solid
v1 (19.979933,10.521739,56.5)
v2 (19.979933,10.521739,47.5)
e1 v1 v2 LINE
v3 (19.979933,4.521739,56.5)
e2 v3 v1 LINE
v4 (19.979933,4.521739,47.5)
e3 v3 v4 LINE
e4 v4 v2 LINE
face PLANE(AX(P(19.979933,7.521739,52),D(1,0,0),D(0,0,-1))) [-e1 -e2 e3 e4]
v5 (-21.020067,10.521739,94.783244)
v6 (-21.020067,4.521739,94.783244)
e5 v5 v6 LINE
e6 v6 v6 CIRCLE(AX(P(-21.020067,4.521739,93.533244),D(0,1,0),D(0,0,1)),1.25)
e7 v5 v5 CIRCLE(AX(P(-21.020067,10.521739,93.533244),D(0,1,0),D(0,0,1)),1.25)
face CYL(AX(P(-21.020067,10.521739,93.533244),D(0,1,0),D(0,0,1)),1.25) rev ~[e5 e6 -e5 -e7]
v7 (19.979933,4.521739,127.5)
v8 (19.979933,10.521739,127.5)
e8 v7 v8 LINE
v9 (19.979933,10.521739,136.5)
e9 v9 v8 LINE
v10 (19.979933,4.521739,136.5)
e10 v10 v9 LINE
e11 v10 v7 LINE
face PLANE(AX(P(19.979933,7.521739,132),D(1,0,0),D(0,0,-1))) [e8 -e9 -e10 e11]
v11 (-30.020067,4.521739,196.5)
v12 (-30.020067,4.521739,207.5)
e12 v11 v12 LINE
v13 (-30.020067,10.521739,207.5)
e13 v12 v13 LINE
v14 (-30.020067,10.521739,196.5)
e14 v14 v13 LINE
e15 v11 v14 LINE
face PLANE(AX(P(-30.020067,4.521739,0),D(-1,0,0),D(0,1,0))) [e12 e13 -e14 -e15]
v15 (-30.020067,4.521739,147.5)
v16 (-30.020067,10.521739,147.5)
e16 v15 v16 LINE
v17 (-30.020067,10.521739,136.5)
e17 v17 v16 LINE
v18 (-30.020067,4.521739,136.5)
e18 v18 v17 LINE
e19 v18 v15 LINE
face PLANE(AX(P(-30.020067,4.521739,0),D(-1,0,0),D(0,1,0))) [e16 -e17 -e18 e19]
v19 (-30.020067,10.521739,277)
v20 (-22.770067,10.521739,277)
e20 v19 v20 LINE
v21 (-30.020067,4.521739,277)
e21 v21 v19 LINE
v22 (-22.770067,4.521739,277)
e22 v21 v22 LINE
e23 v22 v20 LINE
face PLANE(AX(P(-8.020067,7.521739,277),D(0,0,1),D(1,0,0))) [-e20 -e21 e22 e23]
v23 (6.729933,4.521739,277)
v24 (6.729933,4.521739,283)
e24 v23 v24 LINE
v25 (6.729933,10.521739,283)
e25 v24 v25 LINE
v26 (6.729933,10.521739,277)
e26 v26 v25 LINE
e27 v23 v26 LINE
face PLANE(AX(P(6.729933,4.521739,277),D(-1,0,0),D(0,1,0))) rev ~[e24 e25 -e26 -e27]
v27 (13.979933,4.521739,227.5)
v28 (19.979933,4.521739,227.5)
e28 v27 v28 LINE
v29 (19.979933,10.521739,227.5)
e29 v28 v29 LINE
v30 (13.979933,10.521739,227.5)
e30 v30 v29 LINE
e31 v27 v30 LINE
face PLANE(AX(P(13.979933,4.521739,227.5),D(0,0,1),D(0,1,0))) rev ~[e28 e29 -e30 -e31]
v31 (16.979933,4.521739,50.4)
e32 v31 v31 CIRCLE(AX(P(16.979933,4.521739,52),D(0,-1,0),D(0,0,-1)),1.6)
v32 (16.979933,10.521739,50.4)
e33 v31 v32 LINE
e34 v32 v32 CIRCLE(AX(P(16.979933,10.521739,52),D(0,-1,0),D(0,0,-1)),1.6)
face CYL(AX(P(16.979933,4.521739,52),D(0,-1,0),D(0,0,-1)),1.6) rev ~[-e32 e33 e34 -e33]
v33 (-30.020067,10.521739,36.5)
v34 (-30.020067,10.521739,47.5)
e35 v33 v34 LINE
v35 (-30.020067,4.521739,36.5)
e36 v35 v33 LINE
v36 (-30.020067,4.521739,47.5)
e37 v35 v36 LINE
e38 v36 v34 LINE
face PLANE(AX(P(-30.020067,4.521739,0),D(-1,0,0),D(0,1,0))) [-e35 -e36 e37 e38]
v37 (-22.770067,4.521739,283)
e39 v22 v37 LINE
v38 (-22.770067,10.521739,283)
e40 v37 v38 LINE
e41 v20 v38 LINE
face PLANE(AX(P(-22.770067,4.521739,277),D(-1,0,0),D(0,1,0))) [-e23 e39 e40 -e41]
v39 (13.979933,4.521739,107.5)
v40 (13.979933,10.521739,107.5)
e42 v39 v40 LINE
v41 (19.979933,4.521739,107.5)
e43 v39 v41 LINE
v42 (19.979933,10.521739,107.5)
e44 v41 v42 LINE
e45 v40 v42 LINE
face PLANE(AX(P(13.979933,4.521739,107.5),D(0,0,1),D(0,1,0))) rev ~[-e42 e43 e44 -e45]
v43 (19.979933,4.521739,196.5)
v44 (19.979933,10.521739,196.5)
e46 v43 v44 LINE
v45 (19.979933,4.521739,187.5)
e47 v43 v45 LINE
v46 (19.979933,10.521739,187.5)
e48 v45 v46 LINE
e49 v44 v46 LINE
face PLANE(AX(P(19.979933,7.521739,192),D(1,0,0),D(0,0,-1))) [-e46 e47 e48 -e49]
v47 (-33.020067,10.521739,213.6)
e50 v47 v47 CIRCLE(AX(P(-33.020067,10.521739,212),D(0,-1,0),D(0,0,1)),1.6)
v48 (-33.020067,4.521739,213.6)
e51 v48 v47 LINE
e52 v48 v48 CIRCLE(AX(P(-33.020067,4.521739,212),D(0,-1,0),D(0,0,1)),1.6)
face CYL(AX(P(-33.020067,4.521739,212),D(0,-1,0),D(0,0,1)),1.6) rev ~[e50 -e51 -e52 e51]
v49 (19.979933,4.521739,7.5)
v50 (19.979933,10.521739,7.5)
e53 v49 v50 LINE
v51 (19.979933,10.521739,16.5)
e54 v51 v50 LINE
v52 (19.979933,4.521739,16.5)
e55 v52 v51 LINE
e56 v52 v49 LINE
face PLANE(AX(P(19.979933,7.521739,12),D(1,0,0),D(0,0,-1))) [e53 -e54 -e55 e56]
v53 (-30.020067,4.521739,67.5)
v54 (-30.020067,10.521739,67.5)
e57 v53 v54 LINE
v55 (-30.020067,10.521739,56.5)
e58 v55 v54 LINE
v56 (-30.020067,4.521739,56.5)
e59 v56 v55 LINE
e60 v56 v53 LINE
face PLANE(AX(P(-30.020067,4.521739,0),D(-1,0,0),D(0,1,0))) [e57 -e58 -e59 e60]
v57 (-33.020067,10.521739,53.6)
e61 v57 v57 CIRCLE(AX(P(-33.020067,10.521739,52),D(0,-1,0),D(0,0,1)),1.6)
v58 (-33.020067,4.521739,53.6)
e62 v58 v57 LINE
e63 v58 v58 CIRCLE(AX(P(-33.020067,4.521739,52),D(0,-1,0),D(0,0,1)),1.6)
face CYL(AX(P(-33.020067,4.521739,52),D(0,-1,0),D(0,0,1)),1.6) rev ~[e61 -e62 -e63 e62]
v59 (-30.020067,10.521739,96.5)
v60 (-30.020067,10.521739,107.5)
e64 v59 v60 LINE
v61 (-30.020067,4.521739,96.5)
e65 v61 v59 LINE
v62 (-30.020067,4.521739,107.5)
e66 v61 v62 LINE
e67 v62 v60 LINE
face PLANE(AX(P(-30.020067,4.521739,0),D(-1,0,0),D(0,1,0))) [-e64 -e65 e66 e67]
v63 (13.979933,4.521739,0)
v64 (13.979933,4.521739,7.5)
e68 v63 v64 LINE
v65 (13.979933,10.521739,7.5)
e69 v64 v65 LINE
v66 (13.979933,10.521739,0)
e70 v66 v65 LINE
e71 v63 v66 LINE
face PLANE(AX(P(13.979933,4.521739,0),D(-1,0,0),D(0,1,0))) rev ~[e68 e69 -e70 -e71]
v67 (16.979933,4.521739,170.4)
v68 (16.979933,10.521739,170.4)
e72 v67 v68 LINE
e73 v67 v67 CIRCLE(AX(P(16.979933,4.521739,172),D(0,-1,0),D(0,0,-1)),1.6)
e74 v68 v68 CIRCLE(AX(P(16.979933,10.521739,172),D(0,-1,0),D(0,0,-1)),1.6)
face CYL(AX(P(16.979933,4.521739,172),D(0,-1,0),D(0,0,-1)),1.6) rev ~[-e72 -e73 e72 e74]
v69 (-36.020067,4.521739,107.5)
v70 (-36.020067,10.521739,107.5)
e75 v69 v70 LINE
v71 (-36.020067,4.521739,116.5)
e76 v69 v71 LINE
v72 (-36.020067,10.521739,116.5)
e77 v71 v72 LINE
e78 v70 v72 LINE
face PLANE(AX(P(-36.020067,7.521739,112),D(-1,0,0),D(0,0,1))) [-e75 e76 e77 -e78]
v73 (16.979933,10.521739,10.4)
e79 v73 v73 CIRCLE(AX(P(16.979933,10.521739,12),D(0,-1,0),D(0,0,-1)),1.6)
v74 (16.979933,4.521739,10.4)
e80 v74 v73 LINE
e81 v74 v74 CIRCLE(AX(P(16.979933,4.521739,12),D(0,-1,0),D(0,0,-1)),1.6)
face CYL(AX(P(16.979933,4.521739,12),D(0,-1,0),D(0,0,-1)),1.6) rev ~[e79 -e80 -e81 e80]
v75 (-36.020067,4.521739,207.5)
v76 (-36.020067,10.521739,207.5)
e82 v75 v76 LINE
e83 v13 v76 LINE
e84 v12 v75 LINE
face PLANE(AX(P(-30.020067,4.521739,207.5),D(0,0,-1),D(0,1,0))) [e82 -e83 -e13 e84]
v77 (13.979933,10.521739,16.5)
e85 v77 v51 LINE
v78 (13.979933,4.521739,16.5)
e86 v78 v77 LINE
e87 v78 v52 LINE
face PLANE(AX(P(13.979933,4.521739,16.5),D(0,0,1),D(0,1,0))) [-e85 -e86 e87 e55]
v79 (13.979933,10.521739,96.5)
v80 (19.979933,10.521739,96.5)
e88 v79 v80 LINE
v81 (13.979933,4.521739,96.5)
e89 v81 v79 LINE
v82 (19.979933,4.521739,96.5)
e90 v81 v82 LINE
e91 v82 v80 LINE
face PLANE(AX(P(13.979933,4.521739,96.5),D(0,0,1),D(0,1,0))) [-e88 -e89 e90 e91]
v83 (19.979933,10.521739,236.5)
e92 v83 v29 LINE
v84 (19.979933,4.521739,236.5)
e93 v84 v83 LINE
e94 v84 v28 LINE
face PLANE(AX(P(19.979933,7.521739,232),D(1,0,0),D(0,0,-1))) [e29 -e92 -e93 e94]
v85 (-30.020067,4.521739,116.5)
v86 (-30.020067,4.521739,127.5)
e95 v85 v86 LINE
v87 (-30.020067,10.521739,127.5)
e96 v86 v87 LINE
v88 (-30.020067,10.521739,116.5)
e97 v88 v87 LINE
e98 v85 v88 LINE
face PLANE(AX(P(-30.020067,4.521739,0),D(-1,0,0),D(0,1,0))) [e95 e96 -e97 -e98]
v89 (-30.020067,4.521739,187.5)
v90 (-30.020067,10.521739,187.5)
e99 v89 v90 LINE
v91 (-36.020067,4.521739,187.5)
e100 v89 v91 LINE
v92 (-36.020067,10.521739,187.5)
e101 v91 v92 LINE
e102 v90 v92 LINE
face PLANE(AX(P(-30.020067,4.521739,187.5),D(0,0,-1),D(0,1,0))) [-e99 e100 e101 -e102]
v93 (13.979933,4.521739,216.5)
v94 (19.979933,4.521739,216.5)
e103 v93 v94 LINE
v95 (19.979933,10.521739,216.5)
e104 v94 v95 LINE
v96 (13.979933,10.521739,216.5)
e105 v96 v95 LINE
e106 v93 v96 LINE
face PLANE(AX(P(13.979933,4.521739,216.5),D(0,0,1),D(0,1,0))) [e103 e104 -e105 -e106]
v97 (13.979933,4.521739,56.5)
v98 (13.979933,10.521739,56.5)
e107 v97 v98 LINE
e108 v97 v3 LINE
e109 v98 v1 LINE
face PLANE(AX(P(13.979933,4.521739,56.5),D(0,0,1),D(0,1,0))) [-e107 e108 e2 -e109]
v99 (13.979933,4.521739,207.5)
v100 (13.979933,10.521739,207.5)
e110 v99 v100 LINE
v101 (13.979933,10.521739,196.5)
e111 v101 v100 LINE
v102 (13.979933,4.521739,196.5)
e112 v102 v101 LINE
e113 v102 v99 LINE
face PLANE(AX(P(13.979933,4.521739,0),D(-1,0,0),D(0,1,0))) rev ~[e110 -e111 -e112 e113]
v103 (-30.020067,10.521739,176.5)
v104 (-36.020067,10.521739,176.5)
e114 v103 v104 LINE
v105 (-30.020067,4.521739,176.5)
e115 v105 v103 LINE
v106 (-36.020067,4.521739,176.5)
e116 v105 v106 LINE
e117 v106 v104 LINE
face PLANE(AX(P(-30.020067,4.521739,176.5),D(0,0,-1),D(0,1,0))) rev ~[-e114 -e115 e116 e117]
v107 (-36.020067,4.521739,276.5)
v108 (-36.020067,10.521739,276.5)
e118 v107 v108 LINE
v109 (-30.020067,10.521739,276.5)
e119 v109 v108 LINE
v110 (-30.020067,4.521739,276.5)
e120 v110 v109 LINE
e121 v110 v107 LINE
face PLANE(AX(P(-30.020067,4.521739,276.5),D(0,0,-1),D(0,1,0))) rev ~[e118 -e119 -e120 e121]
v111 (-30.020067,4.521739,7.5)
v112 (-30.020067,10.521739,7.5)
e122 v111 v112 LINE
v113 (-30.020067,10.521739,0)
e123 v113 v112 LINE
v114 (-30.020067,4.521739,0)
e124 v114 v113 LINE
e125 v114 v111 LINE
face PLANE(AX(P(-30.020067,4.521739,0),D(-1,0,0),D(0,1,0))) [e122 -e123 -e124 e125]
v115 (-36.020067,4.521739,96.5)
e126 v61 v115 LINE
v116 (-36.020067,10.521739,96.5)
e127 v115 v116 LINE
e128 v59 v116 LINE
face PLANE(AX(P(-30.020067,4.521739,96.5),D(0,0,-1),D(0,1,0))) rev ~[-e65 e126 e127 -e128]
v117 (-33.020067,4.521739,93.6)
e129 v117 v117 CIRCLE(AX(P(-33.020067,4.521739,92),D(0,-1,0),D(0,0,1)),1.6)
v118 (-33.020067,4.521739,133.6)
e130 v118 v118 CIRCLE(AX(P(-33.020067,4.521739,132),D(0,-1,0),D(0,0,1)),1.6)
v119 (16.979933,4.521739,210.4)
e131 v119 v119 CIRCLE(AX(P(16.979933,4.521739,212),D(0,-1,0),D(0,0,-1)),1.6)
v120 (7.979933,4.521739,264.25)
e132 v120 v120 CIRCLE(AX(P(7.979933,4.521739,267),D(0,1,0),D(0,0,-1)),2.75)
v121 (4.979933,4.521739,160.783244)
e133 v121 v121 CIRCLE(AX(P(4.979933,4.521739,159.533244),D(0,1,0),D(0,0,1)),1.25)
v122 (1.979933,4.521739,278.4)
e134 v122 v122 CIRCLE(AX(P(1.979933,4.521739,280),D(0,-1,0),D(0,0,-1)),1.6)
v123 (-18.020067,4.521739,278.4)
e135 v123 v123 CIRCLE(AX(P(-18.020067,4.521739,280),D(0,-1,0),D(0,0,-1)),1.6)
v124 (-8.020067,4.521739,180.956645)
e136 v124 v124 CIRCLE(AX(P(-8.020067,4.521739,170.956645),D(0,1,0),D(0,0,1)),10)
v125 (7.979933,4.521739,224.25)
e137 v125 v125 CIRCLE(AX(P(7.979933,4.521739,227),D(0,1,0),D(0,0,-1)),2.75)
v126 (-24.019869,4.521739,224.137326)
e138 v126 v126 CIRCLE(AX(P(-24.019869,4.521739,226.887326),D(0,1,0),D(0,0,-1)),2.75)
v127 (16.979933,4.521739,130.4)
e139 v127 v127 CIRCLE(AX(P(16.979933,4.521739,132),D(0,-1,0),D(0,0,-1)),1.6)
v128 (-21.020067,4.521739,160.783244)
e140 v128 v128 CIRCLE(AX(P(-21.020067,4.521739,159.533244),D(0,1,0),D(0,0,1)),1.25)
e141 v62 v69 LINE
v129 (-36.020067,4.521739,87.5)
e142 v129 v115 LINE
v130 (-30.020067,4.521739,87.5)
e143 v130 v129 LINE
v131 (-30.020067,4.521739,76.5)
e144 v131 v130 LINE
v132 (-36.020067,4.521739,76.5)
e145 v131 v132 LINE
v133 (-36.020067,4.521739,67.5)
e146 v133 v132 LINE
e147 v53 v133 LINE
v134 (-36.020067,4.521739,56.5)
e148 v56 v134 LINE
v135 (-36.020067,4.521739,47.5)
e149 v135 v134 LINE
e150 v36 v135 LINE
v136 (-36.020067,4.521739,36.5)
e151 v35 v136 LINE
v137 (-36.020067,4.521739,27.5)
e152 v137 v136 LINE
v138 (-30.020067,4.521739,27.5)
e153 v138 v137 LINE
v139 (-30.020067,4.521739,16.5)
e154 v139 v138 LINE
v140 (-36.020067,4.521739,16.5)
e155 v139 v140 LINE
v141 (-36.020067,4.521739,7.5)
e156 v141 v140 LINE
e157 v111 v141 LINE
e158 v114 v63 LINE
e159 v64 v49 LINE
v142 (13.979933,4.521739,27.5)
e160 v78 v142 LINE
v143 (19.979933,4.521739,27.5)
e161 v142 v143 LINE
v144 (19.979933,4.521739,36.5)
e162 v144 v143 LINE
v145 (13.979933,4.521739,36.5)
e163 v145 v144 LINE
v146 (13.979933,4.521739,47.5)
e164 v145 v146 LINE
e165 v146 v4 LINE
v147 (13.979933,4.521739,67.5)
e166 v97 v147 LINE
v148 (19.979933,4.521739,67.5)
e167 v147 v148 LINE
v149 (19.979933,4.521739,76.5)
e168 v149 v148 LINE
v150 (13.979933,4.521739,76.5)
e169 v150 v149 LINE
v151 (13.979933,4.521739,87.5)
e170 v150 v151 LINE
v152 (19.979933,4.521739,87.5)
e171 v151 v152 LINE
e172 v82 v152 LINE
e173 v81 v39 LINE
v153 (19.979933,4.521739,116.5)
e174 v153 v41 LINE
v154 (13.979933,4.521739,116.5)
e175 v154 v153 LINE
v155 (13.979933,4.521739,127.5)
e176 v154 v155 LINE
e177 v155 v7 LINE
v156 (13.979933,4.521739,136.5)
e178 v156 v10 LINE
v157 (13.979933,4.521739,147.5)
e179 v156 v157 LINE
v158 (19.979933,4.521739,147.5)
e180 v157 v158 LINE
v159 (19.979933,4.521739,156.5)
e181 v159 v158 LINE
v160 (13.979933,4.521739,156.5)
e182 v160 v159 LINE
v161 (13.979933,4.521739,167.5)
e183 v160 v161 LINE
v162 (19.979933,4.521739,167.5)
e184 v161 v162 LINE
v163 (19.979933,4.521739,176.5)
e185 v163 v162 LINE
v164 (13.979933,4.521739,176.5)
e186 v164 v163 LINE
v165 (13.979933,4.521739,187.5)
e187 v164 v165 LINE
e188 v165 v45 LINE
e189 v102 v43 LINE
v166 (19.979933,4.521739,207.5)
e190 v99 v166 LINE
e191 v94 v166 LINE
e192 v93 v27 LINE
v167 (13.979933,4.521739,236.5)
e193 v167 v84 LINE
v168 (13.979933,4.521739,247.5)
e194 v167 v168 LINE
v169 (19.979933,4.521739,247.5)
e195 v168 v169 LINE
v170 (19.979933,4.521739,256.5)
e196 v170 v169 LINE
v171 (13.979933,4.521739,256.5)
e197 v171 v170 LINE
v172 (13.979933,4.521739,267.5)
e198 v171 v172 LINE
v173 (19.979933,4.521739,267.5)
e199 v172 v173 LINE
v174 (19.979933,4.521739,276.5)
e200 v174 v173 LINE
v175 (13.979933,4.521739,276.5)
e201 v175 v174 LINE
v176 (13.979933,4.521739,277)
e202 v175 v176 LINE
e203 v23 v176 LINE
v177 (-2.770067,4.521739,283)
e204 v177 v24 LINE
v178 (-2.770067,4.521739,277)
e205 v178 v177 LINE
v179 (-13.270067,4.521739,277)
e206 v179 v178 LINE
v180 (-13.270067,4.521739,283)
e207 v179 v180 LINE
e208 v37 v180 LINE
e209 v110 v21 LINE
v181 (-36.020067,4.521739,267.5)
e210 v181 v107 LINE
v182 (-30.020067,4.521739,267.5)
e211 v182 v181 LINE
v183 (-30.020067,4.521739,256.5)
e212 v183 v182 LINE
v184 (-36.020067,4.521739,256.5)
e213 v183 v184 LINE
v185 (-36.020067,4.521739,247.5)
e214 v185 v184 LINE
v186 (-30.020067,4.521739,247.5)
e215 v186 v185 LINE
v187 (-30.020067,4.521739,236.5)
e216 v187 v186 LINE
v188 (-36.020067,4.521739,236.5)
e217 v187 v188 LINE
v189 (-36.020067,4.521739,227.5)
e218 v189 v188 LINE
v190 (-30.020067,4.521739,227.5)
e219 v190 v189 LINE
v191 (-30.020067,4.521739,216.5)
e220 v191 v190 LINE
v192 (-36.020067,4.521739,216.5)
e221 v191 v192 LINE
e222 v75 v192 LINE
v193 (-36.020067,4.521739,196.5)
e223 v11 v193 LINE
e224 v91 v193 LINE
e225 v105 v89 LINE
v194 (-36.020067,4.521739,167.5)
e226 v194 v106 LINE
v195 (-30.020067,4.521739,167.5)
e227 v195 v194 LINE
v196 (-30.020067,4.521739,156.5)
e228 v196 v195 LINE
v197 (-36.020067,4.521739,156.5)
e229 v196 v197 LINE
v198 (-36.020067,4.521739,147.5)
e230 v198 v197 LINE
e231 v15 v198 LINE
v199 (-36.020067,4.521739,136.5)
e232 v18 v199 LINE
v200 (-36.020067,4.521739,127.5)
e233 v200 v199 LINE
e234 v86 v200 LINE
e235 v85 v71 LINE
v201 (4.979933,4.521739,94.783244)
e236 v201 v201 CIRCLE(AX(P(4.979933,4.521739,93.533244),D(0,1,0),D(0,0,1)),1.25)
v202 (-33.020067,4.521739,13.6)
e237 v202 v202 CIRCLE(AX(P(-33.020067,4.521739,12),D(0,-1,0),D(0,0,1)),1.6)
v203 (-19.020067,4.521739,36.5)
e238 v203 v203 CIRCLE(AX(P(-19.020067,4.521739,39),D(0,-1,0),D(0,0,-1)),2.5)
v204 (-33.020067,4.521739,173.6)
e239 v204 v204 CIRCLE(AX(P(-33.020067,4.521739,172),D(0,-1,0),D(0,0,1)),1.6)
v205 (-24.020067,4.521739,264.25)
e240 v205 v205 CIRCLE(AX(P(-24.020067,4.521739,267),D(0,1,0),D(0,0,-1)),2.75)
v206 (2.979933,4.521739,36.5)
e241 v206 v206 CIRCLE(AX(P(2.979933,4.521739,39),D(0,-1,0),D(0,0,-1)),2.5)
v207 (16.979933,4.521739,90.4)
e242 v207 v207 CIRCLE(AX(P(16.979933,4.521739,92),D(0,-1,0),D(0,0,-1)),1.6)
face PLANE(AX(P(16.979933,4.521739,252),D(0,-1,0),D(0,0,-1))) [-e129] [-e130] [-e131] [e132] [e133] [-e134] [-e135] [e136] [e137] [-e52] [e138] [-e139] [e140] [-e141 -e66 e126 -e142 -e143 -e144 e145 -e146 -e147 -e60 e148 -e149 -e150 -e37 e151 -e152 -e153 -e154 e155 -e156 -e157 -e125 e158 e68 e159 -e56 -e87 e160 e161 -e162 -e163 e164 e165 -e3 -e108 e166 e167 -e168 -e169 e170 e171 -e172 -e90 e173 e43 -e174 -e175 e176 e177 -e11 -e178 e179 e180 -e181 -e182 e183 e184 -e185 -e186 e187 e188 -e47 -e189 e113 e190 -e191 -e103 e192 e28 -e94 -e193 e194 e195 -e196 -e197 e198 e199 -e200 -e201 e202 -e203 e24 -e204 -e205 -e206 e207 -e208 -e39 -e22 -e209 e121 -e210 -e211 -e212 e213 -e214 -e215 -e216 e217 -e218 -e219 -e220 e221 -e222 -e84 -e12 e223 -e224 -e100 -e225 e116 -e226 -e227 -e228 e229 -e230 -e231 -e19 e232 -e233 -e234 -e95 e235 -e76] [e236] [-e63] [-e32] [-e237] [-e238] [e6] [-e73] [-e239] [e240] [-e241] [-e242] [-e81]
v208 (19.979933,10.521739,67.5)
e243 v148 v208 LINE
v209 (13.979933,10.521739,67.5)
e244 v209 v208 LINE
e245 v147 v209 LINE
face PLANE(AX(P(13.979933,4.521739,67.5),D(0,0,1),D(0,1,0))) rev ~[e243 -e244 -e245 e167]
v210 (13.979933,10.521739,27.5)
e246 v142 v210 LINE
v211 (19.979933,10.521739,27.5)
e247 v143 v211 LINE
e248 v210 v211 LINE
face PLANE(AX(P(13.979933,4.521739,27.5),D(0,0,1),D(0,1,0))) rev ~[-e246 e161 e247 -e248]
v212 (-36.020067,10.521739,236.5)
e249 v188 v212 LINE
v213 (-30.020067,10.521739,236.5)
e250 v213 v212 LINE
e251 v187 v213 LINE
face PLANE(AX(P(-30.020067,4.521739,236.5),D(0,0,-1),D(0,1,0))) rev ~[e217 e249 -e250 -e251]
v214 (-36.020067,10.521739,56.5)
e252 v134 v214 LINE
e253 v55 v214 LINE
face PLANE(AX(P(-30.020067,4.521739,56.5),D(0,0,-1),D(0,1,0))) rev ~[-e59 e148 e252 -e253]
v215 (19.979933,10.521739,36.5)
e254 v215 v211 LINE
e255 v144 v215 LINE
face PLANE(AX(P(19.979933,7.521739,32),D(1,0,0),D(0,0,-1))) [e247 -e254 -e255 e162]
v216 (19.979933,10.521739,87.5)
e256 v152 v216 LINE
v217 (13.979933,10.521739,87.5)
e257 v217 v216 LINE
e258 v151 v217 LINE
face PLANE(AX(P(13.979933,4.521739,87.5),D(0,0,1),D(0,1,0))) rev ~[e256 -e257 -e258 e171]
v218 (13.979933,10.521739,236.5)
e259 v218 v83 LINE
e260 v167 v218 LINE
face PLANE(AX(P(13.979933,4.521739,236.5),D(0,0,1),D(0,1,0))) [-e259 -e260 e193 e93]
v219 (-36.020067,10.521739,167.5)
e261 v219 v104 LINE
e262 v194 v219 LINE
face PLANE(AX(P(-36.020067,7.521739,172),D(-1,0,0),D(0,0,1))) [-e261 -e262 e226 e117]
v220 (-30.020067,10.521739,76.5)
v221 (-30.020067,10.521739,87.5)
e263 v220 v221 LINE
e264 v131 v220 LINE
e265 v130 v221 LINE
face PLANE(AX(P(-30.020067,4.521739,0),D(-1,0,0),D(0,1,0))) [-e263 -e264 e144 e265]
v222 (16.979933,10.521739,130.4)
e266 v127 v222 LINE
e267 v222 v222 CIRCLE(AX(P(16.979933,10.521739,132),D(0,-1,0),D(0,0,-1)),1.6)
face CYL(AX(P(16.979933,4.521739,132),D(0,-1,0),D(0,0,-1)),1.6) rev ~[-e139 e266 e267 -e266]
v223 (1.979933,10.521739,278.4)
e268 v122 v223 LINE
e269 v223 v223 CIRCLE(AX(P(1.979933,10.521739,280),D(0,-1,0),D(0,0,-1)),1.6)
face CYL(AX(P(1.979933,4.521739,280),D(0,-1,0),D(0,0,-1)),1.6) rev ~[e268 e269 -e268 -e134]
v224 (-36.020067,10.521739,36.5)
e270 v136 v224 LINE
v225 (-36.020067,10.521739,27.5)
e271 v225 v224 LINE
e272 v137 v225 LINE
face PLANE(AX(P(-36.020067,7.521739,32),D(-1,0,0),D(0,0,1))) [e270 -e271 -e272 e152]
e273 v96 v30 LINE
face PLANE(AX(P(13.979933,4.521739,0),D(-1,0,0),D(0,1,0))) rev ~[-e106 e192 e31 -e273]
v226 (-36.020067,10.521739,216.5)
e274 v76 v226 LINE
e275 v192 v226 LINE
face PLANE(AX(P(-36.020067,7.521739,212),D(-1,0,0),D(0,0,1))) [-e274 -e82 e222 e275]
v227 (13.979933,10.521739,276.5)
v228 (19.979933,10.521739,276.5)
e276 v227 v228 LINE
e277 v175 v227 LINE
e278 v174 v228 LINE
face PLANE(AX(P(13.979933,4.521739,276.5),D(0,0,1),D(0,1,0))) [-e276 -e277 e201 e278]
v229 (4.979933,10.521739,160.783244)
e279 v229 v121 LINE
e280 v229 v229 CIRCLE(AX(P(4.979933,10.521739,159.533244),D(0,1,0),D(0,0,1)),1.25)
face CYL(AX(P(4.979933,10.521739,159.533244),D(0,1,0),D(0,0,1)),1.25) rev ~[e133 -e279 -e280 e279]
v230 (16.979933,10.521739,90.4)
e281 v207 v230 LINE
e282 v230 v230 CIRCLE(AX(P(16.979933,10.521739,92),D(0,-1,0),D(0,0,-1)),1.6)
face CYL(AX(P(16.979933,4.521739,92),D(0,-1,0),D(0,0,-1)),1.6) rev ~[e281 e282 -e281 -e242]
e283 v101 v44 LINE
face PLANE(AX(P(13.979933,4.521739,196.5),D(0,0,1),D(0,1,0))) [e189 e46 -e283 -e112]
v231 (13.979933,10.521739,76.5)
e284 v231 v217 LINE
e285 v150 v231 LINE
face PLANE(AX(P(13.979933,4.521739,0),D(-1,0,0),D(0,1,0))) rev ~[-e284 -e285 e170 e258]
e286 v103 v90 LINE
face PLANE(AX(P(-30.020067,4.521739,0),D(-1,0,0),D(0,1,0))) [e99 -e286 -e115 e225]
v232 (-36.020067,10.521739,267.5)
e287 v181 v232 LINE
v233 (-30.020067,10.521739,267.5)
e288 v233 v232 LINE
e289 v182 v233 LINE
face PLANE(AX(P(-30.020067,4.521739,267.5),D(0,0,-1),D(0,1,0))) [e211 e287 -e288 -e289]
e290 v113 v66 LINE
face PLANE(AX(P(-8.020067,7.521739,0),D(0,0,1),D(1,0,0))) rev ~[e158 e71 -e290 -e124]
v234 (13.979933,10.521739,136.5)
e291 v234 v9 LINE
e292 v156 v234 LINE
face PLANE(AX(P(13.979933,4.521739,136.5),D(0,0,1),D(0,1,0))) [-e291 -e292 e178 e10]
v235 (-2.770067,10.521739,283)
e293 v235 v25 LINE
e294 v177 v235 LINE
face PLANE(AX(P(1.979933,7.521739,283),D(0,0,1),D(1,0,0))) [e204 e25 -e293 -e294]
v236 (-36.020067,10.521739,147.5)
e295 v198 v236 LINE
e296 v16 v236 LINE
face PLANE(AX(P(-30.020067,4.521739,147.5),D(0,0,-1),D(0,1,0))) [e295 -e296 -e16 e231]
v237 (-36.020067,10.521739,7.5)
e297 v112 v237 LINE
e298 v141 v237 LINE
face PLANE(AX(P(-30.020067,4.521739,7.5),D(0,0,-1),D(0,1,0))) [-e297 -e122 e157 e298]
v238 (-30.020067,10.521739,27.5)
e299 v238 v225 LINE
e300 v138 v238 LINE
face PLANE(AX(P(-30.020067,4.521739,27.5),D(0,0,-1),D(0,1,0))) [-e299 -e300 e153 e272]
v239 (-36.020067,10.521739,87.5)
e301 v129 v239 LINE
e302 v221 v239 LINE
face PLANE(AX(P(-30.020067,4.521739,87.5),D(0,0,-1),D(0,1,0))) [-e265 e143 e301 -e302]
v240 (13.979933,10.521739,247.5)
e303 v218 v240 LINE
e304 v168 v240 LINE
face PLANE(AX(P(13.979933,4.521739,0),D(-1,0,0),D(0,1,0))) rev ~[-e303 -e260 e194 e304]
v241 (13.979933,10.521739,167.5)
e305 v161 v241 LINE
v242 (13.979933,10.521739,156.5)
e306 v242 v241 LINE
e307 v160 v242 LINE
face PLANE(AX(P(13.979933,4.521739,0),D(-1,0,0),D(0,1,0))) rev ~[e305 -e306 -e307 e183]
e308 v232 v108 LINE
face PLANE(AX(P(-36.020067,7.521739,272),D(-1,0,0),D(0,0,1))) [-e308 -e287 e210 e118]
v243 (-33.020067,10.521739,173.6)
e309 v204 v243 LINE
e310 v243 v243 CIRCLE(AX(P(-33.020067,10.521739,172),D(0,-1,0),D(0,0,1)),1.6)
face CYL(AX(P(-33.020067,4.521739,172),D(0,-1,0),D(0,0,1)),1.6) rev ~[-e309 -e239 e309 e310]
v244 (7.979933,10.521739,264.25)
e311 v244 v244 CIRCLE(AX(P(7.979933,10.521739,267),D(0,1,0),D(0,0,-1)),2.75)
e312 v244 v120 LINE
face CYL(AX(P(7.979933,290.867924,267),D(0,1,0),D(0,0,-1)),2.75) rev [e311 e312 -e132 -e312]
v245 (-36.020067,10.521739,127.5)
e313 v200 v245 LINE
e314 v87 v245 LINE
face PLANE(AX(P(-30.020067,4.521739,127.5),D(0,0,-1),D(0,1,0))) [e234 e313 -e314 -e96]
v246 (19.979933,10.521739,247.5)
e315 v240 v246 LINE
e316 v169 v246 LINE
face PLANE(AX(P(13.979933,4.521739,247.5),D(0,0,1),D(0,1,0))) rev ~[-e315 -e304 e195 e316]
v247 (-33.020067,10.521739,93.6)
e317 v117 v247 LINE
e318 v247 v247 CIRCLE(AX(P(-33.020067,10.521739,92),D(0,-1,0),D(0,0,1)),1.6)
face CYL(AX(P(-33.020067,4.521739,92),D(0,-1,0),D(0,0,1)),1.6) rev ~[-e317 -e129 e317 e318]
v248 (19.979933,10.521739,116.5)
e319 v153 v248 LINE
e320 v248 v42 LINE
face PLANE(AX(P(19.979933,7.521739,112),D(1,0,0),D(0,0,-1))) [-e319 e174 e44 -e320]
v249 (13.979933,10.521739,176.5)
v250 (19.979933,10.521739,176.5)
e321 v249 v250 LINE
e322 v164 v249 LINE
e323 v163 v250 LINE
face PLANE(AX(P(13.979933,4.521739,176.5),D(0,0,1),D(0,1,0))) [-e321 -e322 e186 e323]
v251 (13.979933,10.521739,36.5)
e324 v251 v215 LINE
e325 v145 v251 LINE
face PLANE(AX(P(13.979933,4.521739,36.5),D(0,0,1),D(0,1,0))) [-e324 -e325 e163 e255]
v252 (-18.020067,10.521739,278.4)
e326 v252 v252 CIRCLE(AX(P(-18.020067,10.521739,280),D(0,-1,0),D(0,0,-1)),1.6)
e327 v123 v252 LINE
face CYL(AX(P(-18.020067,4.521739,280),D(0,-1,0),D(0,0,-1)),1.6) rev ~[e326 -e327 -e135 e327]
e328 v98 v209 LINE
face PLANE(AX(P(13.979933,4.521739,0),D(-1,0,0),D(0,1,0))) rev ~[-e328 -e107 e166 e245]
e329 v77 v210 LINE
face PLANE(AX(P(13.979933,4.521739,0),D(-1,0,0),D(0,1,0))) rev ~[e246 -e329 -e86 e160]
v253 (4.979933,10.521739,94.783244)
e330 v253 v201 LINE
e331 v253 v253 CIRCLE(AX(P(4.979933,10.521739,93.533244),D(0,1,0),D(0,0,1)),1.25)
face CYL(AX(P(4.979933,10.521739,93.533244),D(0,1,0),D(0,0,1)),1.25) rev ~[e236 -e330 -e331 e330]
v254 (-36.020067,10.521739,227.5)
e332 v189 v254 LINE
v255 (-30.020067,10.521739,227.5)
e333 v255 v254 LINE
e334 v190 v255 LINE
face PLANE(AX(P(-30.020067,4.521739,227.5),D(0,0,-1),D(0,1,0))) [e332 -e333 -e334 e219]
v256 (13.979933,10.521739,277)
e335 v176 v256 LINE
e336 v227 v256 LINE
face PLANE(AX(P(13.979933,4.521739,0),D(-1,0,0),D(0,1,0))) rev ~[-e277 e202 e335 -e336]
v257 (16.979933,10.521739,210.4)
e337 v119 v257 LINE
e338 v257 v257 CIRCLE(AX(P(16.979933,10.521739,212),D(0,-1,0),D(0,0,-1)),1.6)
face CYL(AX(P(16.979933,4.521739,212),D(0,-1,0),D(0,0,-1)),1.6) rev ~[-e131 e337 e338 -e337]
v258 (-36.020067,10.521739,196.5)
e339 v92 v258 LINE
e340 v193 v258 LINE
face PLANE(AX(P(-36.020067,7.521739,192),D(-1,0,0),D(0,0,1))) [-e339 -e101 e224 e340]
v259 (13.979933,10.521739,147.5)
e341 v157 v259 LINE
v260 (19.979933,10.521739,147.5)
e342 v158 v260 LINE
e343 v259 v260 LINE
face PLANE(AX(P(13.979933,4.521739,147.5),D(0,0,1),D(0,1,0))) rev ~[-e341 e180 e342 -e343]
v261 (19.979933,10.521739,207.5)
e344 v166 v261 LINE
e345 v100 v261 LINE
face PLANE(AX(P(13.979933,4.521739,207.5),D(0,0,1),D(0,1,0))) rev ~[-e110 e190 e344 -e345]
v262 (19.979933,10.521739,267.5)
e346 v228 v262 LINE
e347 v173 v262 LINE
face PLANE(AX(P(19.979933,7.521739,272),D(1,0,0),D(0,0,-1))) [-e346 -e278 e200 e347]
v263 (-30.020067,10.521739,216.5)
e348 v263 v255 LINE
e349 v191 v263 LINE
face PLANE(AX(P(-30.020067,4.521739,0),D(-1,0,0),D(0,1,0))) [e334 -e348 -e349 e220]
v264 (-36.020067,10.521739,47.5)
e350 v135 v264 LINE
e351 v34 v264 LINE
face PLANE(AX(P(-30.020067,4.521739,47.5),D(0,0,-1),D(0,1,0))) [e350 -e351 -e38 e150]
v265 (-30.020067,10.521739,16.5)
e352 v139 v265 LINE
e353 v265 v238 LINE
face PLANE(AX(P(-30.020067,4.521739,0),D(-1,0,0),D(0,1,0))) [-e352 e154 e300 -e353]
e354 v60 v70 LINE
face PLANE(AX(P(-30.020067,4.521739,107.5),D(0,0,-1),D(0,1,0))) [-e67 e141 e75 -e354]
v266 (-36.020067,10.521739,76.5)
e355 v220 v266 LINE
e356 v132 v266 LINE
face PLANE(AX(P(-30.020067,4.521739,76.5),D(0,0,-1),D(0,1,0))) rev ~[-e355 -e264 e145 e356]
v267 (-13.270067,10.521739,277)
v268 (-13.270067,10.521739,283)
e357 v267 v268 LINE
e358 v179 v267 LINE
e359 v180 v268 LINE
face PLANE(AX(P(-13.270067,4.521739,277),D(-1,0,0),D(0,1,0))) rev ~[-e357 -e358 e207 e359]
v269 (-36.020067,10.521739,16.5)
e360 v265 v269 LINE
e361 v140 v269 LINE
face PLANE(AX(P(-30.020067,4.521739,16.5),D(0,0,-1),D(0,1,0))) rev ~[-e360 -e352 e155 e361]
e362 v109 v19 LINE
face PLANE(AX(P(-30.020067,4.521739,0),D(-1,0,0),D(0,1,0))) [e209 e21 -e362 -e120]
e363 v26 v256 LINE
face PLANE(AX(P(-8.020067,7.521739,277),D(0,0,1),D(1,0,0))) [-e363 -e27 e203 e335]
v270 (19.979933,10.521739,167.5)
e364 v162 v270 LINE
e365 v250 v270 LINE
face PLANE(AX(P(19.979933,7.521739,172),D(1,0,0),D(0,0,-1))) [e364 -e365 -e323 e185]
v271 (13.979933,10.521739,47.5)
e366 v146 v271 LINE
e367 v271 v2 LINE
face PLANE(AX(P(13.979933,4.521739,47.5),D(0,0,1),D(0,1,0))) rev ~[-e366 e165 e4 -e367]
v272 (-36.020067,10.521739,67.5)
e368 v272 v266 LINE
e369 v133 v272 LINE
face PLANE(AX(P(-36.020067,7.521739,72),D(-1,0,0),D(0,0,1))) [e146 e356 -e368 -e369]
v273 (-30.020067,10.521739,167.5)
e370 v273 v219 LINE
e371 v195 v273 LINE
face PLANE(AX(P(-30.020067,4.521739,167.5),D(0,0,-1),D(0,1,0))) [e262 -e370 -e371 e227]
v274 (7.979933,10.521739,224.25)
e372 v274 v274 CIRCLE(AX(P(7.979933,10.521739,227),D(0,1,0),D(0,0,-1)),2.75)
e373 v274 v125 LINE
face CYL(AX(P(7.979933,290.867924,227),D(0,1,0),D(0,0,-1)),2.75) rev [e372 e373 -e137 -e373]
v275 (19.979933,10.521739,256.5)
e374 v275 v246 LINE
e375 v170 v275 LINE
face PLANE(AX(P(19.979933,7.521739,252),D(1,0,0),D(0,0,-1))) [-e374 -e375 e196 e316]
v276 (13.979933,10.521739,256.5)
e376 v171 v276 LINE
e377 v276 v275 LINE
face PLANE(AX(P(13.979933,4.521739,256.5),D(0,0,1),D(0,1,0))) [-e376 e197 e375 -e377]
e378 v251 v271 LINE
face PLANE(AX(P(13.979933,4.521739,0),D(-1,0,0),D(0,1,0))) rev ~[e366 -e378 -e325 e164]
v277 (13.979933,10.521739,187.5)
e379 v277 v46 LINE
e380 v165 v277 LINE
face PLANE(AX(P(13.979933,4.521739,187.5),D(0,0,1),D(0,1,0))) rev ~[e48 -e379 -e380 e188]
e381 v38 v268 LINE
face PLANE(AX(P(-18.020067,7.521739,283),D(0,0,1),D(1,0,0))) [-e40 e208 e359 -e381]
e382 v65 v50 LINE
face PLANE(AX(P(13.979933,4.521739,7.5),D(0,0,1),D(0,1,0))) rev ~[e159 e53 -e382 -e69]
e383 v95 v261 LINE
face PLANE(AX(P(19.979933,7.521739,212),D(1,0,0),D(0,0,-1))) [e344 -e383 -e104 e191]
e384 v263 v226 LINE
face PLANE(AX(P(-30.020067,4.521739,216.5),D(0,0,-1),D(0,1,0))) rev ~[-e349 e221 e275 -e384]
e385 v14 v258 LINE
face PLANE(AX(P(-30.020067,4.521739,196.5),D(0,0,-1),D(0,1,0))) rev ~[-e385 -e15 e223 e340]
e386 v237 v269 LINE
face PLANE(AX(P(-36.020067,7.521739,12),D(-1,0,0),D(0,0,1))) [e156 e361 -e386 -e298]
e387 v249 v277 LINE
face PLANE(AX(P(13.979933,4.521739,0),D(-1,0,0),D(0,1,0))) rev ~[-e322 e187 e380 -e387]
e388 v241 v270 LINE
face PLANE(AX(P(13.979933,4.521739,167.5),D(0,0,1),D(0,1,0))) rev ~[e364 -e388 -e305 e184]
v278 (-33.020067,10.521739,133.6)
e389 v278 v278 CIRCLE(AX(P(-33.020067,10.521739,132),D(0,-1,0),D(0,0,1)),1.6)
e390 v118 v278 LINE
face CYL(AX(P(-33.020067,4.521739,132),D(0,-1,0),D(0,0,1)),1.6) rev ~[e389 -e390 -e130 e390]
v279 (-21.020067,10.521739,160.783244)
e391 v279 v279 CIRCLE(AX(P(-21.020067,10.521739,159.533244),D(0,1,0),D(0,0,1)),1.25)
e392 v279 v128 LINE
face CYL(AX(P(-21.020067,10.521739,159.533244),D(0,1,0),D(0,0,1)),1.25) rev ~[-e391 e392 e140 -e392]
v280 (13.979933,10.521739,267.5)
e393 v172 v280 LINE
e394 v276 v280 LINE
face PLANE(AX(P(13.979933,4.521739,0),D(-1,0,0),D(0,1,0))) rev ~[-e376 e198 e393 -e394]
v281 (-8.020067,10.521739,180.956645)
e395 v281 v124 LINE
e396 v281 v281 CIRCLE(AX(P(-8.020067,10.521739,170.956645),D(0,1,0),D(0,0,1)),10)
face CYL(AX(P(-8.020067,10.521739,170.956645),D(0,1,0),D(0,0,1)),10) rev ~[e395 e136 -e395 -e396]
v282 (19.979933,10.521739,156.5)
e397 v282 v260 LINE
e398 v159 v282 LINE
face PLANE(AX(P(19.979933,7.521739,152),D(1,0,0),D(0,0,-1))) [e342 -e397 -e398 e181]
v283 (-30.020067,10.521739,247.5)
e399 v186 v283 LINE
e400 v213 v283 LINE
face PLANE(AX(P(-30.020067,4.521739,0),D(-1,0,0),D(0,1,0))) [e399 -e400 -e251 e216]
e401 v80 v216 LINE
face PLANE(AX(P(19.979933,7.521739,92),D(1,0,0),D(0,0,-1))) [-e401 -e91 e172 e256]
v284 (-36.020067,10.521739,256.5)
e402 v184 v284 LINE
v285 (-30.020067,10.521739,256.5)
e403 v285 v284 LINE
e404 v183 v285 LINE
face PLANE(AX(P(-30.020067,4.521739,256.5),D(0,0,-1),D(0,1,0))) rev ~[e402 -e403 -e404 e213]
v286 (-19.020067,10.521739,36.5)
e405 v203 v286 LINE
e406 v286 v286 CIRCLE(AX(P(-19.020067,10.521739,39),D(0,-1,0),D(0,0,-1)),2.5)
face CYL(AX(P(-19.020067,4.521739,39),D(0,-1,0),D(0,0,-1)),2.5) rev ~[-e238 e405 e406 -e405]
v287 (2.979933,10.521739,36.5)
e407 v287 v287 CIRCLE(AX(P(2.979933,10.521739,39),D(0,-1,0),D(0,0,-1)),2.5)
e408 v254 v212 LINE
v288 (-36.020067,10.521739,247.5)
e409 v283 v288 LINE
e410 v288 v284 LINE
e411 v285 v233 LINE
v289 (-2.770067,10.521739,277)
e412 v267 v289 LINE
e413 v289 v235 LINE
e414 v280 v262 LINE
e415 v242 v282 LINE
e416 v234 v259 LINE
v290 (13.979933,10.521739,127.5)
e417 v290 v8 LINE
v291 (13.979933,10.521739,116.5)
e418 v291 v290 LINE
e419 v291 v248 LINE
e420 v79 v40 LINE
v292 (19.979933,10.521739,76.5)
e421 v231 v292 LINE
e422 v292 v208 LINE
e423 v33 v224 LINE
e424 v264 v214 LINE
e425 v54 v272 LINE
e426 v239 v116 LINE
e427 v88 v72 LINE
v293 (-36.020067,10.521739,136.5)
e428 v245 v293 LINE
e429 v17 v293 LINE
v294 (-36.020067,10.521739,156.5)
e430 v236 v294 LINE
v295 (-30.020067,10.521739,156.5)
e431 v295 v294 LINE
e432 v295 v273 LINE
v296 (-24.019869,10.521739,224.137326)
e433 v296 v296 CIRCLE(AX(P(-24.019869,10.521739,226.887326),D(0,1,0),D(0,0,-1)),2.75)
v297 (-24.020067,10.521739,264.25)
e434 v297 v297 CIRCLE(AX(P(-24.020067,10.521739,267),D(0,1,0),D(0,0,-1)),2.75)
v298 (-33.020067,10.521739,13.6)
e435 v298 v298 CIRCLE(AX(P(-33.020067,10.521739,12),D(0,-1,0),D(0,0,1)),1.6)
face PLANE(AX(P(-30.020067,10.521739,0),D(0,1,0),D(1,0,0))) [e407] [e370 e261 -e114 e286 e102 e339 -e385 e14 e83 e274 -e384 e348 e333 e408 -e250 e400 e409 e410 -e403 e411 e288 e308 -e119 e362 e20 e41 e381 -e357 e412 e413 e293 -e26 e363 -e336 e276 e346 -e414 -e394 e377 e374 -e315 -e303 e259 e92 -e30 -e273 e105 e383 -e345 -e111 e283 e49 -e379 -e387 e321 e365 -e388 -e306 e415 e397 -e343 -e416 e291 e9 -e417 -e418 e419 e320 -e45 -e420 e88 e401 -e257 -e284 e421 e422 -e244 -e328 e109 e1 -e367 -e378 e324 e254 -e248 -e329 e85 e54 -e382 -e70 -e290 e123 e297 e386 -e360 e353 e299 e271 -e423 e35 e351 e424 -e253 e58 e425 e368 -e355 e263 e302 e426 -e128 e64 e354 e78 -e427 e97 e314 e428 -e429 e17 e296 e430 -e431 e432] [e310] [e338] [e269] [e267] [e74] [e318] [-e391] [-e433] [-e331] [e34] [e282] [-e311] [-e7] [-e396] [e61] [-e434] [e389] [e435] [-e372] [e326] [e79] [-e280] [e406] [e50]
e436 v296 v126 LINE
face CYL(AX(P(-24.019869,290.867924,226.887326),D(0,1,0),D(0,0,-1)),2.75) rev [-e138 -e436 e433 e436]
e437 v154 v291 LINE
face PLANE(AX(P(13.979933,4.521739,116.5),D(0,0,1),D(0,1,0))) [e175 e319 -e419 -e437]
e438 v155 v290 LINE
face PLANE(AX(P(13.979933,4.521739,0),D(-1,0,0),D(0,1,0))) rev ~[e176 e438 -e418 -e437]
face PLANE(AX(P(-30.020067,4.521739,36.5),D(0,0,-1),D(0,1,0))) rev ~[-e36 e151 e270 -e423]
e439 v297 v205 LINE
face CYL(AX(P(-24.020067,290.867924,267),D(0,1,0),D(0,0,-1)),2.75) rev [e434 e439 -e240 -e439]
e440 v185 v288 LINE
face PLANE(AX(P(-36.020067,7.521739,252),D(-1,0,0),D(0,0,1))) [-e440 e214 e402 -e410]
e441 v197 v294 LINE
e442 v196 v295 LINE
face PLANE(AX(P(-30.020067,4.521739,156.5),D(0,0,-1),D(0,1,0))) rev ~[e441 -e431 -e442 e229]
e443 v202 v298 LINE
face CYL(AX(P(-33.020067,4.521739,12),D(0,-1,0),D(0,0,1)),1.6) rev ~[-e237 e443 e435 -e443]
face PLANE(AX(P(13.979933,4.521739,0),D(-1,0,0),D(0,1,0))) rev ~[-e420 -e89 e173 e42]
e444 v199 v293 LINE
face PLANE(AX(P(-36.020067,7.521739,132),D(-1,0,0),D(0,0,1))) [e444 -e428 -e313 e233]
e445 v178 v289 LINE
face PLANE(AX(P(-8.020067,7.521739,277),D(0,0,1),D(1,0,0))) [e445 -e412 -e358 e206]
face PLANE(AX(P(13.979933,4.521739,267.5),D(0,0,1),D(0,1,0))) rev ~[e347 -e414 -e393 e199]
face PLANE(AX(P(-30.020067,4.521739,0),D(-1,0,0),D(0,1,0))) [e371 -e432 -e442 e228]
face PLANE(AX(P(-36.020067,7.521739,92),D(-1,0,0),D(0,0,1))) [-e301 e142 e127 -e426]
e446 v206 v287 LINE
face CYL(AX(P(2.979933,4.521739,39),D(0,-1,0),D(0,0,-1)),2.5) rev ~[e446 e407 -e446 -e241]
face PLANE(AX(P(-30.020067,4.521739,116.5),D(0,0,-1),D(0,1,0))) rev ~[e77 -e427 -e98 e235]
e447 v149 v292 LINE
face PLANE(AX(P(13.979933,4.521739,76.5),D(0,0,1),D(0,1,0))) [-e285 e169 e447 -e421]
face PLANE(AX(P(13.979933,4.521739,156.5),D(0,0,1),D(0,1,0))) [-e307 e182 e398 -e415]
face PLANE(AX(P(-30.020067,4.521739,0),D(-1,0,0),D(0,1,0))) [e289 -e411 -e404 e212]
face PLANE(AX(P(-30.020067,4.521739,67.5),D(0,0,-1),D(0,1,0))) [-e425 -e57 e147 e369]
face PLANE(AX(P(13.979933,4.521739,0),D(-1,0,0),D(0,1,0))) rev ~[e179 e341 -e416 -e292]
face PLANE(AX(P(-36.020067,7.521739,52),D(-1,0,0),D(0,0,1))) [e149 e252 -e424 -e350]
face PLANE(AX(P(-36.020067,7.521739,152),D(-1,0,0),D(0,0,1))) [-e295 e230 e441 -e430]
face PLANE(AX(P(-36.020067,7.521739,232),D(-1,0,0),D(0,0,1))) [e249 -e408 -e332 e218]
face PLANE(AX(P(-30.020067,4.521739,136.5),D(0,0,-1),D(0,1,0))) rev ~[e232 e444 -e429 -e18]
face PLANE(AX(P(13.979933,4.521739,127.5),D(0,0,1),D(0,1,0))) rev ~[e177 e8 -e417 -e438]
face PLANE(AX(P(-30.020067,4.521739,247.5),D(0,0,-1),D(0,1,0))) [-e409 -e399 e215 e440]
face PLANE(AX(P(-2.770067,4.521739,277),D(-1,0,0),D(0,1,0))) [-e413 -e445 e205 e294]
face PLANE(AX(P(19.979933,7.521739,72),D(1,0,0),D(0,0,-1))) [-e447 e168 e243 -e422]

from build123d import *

# Parameters (mm, degrees)
SKETCH1_W               = 44
SKETCH1_H               = 6
BOSS_EXTRUDE1_DEPTH     = 277
SKETCH4_W               = 9
SKETCH4_H               = 6
BOSS_EXTRUDE2_DEPTH     = 6
SKETCH5_W               = 9
SKETCH5_H               = 6
BOSS_EXTRUDE3_DEPTH     = 6
SKETCH6_W               = 9.5
SKETCH6_H               = 6
BOSS_EXTRUDE4_DEPTH     = 6
SKETCH7_R               = 1.6
CUT_EXTRUDE1_DEPTH      = 286.346184868
SKETCH8_R               = 2.5
CUT_EXTRUDE2_DEPTH      = 12
SKETCH9_R               = 1.6
CUT_EXTRUDE3_DEPTH      = 12
CUT_EXTRUDE4_DEPTH      = 286.346184868
CUT_EXTRUDE4_DEPTH_BACK = 286.346184868
SKETCH11_R              = 2.75
SKETCH7_2_R             = 1.6
BOSS_EXTRUDE5_DEPTH     = 6
BOSS_EXTRUDE5_2_DEPTH   = 6
SKETCH12_R              = 1.25
SKETCH12_R_2            = 10
CUT_EXTRUDE5_DEPTH      = 286.346184868


with BuildPart() as part:
    # Sketch1 → Boss-Extrude1 (new body)
    with BuildSketch(Plane.XY):
        with Locations((-8.02006689, 7.52173913)):
            Rectangle(SKETCH1_W, SKETCH1_H)
    extrude(amount=BOSS_EXTRUDE1_DEPTH)

    # Sketch4 → Boss-Extrude2 (add)
    with BuildSketch(Plane(origin=(13.97993311, 0, 0), x_dir=(0, 0, -1), z_dir=(1, 0, 0))):
        with Locations((-272, 7.52173913)):
            Rectangle(SKETCH4_W, SKETCH4_H)
        with Locations((-252, 7.52173913)):
            Rectangle(SKETCH4_W, SKETCH4_H)
        with Locations((-232, 7.52173913)):
            Rectangle(SKETCH4_W, SKETCH4_H)
        with Locations((-212, 7.52173913)):
            Rectangle(SKETCH4_W, SKETCH4_H)
        with Locations((-192, 7.52173913)):
            Rectangle(SKETCH4_W, SKETCH4_H)
        with Locations((-172, 7.52173913)):
            Rectangle(SKETCH4_W, SKETCH4_H)
        with Locations((-152, 7.52173913)):
            Rectangle(SKETCH4_W, SKETCH4_H)
        with Locations((-132, 7.52173913)):
            Rectangle(SKETCH4_W, SKETCH4_H)
        with Locations((-112, 7.52173913)):
            Rectangle(SKETCH4_W, SKETCH4_H)
        with Locations((-92, 7.52173913)):
            Rectangle(SKETCH4_W, SKETCH4_H)
        with Locations((-72, 7.52173913)):
            Rectangle(SKETCH4_W, SKETCH4_H)
        with Locations((-52, 7.52173913)):
            Rectangle(SKETCH4_W, SKETCH4_H)
        with Locations((-32, 7.52173913)):
            Rectangle(SKETCH4_W, SKETCH4_H)
        with Locations((-12, 7.52173913)):
            Rectangle(SKETCH4_W, SKETCH4_H)
    extrude(amount=BOSS_EXTRUDE2_DEPTH)

    # Sketch5 → Boss-Extrude3 (add)
    with BuildSketch(Plane.ZY.offset(30.02006689)):
        with Locations((272, 7.52173913)):
            Rectangle(SKETCH5_W, SKETCH5_H)
        with Locations((252, 7.52173913)):
            Rectangle(SKETCH5_W, SKETCH5_H)
        with Locations((232, 7.52173913)):
            Rectangle(SKETCH5_W, SKETCH5_H)
        with Locations((212, 7.52173913)):
            Rectangle(SKETCH5_W, SKETCH5_H)
        with Locations((192, 7.52173913)):
            Rectangle(SKETCH5_W, SKETCH5_H)
        with Locations((172, 7.52173913)):
            Rectangle(SKETCH5_W, SKETCH5_H)
        with Locations((152, 7.52173913)):
            Rectangle(SKETCH5_W, SKETCH5_H)
        with Locations((132, 7.52173913)):
            Rectangle(SKETCH5_W, SKETCH5_H)
        with Locations((112, 7.52173913)):
            Rectangle(SKETCH5_W, SKETCH5_H)
        with Locations((92, 7.52173913)):
            Rectangle(SKETCH5_W, SKETCH5_H)
        with Locations((72, 7.52173913)):
            Rectangle(SKETCH5_W, SKETCH5_H)
        with Locations((52, 7.52173913)):
            Rectangle(SKETCH5_W, SKETCH5_H)
        with Locations((32, 7.52173913)):
            Rectangle(SKETCH5_W, SKETCH5_H)
        with Locations((12, 7.52173913)):
            Rectangle(SKETCH5_W, SKETCH5_H)
    extrude(amount=BOSS_EXTRUDE3_DEPTH)

    # Sketch6 → Boss-Extrude4 (add)
    with BuildSketch(Plane.XY.offset(277)):
        with Locations((-18.02006689, 7.52173913)):
            Rectangle(SKETCH6_W, SKETCH6_H)
        with Locations((1.97993311, 7.52173913)):
            Rectangle(SKETCH6_W, SKETCH6_H)
    extrude(amount=BOSS_EXTRUDE4_DEPTH)

    # Sketch7 → Cut-Extrude1 (cut, through all)
    with BuildSketch(Plane.XZ.offset(-4.52173913)):
        with Locations(Location((16.97993311, 252, 0), (0, 0, 270))):
            Circle(SKETCH7_R)
        with Locations(Location((-33.02006689, 252, 0), (0, 0, 90))):
            Circle(SKETCH7_R)
        with Locations(Location((-33.02006689, 212, 0), (0, 0, 90))):
            Circle(SKETCH7_R)
        with Locations(Location((16.97993311, 212, 0), (0, 0, 270))):
            Circle(SKETCH7_R)
        with Locations(Location((-33.02006689, 172, 0), (0, 0, 90))):
            Circle(SKETCH7_R)
        with Locations(Location((16.97993311, 172, 0), (0, 0, 270))):
            Circle(SKETCH7_R)
        with Locations(Location((-33.02006689, 132, 0), (0, 0, 90))):
            Circle(SKETCH7_R)
        with Locations(Location((16.97993311, 132, 0), (0, 0, 270))):
            Circle(SKETCH7_R)
        with Locations(Location((-33.02006689, 92, 0), (0, 0, 90))):
            Circle(SKETCH7_R)
        with Locations(Location((16.97993311, 92, 0), (0, 0, 270))):
            Circle(SKETCH7_R)
        with Locations(Location((-33.02006689, 52, 0), (0, 0, 90))):
            Circle(SKETCH7_R)
        with Locations(Location((16.97993311, 52, 0), (0, 0, 270))):
            Circle(SKETCH7_R)
        with Locations(Location((-33.02006689, 12, 0), (0, 0, 90))):
            Circle(SKETCH7_R)
        with Locations(Location((16.97993311, 12, 0), (0, 0, 270))):
            Circle(SKETCH7_R)
    extrude(amount=-CUT_EXTRUDE1_DEPTH, mode=Mode.SUBTRACT)

    # Sketch8 → Cut-Extrude2 (cut)
    with BuildSketch(Plane.XZ.offset(-4.52173913)):
        with Locations(Location((-19.02006689, 39, 0), (0, 0, 270))):
            Circle(SKETCH8_R)
        with Locations(Location((2.97993311, 39, 0), (0, 0, 270))):
            Circle(SKETCH8_R)
    extrude(amount=-CUT_EXTRUDE2_DEPTH, mode=Mode.SUBTRACT)

    # Sketch9 → Cut-Extrude3 (cut)
    with BuildSketch(Plane(origin=(0, 4.52173913, 0), x_dir=(-1, 0, 0), z_dir=(0, -1, 0))):
        with Locations(Location((18.02006689, -280, 0), (0, 0, 90))):
            Circle(SKETCH9_R)
        with Locations(Location((-1.97993311, -280, 0), (0, 0, 90))):
            Circle(SKETCH9_R)
    extrude(amount=-CUT_EXTRUDE3_DEPTH, mode=Mode.SUBTRACT)

    # Sketch11 → Cut-Extrude4 (cut, two sides: drawn at the far end of the back side and taken through both)
    with BuildSketch(Plane.XZ.offset(-4.52173913).offset(-CUT_EXTRUDE4_DEPTH_BACK)):
        with Locations(Location((-24.019868524, 226.88732643, 0), (0, 0, 270))):
            Circle(SKETCH11_R)
        with Locations(Location((7.97993311, 227, 0), (0, 0, 270))):
            Circle(SKETCH11_R)
        with Locations(Location((7.97993311, 267, 0), (0, 0, 270))):
            Circle(SKETCH11_R)
        with Locations(Location((-24.02006689, 267, 0), (0, 0, 270))):
            Circle(SKETCH11_R)
    extrude(amount=CUT_EXTRUDE4_DEPTH + CUT_EXTRUDE4_DEPTH_BACK, mode=Mode.SUBTRACT)


with BuildPart() as body_2:
    # Sketch7<2> → Boss-Extrude5 (new, through all)
    with BuildSketch(Plane.XZ.offset(-4.52173913)):
        with Locations(Location((16.97993311, 252, 0), (0, 0, 270))):
            Circle(SKETCH7_2_R)
    extrude(amount=-BOSS_EXTRUDE5_DEPTH)


with BuildPart() as body_3:
    # Sketch7<2> → Boss-Extrude5 2 (new, through all)
    with BuildSketch(Plane.XZ.offset(-4.52173913)):
        with Locations(Location((-33.02006689, 252, 0), (0, 0, 90))):
            Circle(SKETCH7_2_R)
    extrude(amount=-BOSS_EXTRUDE5_2_DEPTH)


with BuildPart() as part_1:
    add(part.part)

    # Combine1: union body 3, body 2
    add(body_3.part)
    add(body_2.part)

    # Sketch12 → Cut-Extrude5 (cut, through all)
    with BuildSketch(Plane(origin=(0, 10.52173913, 0), x_dir=(1, 0, 0), z_dir=(0, 1, 0))):
        with Locations(Location((4.97993311, -159.533243973, 0), (0, 0, 270))):
            Circle(SKETCH12_R)
        with Locations(Location((-21.02006689, -159.533243973, 0), (0, 0, 270))):
            Circle(SKETCH12_R)
        with Locations(Location((-21.02006689, -93.533243973, 0), (0, 0, 270))):
            Circle(SKETCH12_R)
        with Locations(Location((4.97993311, -93.533243973, 0), (0, 0, 270))):
            Circle(SKETCH12_R)
        with Locations(Location((-8.02006689, -170.956644726, 0), (0, 0, 270))):
            Circle(SKETCH12_R_2)
    extrude(amount=-CUT_EXTRUDE5_DEPTH, mode=Mode.SUBTRACT)


solid = part_1.part
